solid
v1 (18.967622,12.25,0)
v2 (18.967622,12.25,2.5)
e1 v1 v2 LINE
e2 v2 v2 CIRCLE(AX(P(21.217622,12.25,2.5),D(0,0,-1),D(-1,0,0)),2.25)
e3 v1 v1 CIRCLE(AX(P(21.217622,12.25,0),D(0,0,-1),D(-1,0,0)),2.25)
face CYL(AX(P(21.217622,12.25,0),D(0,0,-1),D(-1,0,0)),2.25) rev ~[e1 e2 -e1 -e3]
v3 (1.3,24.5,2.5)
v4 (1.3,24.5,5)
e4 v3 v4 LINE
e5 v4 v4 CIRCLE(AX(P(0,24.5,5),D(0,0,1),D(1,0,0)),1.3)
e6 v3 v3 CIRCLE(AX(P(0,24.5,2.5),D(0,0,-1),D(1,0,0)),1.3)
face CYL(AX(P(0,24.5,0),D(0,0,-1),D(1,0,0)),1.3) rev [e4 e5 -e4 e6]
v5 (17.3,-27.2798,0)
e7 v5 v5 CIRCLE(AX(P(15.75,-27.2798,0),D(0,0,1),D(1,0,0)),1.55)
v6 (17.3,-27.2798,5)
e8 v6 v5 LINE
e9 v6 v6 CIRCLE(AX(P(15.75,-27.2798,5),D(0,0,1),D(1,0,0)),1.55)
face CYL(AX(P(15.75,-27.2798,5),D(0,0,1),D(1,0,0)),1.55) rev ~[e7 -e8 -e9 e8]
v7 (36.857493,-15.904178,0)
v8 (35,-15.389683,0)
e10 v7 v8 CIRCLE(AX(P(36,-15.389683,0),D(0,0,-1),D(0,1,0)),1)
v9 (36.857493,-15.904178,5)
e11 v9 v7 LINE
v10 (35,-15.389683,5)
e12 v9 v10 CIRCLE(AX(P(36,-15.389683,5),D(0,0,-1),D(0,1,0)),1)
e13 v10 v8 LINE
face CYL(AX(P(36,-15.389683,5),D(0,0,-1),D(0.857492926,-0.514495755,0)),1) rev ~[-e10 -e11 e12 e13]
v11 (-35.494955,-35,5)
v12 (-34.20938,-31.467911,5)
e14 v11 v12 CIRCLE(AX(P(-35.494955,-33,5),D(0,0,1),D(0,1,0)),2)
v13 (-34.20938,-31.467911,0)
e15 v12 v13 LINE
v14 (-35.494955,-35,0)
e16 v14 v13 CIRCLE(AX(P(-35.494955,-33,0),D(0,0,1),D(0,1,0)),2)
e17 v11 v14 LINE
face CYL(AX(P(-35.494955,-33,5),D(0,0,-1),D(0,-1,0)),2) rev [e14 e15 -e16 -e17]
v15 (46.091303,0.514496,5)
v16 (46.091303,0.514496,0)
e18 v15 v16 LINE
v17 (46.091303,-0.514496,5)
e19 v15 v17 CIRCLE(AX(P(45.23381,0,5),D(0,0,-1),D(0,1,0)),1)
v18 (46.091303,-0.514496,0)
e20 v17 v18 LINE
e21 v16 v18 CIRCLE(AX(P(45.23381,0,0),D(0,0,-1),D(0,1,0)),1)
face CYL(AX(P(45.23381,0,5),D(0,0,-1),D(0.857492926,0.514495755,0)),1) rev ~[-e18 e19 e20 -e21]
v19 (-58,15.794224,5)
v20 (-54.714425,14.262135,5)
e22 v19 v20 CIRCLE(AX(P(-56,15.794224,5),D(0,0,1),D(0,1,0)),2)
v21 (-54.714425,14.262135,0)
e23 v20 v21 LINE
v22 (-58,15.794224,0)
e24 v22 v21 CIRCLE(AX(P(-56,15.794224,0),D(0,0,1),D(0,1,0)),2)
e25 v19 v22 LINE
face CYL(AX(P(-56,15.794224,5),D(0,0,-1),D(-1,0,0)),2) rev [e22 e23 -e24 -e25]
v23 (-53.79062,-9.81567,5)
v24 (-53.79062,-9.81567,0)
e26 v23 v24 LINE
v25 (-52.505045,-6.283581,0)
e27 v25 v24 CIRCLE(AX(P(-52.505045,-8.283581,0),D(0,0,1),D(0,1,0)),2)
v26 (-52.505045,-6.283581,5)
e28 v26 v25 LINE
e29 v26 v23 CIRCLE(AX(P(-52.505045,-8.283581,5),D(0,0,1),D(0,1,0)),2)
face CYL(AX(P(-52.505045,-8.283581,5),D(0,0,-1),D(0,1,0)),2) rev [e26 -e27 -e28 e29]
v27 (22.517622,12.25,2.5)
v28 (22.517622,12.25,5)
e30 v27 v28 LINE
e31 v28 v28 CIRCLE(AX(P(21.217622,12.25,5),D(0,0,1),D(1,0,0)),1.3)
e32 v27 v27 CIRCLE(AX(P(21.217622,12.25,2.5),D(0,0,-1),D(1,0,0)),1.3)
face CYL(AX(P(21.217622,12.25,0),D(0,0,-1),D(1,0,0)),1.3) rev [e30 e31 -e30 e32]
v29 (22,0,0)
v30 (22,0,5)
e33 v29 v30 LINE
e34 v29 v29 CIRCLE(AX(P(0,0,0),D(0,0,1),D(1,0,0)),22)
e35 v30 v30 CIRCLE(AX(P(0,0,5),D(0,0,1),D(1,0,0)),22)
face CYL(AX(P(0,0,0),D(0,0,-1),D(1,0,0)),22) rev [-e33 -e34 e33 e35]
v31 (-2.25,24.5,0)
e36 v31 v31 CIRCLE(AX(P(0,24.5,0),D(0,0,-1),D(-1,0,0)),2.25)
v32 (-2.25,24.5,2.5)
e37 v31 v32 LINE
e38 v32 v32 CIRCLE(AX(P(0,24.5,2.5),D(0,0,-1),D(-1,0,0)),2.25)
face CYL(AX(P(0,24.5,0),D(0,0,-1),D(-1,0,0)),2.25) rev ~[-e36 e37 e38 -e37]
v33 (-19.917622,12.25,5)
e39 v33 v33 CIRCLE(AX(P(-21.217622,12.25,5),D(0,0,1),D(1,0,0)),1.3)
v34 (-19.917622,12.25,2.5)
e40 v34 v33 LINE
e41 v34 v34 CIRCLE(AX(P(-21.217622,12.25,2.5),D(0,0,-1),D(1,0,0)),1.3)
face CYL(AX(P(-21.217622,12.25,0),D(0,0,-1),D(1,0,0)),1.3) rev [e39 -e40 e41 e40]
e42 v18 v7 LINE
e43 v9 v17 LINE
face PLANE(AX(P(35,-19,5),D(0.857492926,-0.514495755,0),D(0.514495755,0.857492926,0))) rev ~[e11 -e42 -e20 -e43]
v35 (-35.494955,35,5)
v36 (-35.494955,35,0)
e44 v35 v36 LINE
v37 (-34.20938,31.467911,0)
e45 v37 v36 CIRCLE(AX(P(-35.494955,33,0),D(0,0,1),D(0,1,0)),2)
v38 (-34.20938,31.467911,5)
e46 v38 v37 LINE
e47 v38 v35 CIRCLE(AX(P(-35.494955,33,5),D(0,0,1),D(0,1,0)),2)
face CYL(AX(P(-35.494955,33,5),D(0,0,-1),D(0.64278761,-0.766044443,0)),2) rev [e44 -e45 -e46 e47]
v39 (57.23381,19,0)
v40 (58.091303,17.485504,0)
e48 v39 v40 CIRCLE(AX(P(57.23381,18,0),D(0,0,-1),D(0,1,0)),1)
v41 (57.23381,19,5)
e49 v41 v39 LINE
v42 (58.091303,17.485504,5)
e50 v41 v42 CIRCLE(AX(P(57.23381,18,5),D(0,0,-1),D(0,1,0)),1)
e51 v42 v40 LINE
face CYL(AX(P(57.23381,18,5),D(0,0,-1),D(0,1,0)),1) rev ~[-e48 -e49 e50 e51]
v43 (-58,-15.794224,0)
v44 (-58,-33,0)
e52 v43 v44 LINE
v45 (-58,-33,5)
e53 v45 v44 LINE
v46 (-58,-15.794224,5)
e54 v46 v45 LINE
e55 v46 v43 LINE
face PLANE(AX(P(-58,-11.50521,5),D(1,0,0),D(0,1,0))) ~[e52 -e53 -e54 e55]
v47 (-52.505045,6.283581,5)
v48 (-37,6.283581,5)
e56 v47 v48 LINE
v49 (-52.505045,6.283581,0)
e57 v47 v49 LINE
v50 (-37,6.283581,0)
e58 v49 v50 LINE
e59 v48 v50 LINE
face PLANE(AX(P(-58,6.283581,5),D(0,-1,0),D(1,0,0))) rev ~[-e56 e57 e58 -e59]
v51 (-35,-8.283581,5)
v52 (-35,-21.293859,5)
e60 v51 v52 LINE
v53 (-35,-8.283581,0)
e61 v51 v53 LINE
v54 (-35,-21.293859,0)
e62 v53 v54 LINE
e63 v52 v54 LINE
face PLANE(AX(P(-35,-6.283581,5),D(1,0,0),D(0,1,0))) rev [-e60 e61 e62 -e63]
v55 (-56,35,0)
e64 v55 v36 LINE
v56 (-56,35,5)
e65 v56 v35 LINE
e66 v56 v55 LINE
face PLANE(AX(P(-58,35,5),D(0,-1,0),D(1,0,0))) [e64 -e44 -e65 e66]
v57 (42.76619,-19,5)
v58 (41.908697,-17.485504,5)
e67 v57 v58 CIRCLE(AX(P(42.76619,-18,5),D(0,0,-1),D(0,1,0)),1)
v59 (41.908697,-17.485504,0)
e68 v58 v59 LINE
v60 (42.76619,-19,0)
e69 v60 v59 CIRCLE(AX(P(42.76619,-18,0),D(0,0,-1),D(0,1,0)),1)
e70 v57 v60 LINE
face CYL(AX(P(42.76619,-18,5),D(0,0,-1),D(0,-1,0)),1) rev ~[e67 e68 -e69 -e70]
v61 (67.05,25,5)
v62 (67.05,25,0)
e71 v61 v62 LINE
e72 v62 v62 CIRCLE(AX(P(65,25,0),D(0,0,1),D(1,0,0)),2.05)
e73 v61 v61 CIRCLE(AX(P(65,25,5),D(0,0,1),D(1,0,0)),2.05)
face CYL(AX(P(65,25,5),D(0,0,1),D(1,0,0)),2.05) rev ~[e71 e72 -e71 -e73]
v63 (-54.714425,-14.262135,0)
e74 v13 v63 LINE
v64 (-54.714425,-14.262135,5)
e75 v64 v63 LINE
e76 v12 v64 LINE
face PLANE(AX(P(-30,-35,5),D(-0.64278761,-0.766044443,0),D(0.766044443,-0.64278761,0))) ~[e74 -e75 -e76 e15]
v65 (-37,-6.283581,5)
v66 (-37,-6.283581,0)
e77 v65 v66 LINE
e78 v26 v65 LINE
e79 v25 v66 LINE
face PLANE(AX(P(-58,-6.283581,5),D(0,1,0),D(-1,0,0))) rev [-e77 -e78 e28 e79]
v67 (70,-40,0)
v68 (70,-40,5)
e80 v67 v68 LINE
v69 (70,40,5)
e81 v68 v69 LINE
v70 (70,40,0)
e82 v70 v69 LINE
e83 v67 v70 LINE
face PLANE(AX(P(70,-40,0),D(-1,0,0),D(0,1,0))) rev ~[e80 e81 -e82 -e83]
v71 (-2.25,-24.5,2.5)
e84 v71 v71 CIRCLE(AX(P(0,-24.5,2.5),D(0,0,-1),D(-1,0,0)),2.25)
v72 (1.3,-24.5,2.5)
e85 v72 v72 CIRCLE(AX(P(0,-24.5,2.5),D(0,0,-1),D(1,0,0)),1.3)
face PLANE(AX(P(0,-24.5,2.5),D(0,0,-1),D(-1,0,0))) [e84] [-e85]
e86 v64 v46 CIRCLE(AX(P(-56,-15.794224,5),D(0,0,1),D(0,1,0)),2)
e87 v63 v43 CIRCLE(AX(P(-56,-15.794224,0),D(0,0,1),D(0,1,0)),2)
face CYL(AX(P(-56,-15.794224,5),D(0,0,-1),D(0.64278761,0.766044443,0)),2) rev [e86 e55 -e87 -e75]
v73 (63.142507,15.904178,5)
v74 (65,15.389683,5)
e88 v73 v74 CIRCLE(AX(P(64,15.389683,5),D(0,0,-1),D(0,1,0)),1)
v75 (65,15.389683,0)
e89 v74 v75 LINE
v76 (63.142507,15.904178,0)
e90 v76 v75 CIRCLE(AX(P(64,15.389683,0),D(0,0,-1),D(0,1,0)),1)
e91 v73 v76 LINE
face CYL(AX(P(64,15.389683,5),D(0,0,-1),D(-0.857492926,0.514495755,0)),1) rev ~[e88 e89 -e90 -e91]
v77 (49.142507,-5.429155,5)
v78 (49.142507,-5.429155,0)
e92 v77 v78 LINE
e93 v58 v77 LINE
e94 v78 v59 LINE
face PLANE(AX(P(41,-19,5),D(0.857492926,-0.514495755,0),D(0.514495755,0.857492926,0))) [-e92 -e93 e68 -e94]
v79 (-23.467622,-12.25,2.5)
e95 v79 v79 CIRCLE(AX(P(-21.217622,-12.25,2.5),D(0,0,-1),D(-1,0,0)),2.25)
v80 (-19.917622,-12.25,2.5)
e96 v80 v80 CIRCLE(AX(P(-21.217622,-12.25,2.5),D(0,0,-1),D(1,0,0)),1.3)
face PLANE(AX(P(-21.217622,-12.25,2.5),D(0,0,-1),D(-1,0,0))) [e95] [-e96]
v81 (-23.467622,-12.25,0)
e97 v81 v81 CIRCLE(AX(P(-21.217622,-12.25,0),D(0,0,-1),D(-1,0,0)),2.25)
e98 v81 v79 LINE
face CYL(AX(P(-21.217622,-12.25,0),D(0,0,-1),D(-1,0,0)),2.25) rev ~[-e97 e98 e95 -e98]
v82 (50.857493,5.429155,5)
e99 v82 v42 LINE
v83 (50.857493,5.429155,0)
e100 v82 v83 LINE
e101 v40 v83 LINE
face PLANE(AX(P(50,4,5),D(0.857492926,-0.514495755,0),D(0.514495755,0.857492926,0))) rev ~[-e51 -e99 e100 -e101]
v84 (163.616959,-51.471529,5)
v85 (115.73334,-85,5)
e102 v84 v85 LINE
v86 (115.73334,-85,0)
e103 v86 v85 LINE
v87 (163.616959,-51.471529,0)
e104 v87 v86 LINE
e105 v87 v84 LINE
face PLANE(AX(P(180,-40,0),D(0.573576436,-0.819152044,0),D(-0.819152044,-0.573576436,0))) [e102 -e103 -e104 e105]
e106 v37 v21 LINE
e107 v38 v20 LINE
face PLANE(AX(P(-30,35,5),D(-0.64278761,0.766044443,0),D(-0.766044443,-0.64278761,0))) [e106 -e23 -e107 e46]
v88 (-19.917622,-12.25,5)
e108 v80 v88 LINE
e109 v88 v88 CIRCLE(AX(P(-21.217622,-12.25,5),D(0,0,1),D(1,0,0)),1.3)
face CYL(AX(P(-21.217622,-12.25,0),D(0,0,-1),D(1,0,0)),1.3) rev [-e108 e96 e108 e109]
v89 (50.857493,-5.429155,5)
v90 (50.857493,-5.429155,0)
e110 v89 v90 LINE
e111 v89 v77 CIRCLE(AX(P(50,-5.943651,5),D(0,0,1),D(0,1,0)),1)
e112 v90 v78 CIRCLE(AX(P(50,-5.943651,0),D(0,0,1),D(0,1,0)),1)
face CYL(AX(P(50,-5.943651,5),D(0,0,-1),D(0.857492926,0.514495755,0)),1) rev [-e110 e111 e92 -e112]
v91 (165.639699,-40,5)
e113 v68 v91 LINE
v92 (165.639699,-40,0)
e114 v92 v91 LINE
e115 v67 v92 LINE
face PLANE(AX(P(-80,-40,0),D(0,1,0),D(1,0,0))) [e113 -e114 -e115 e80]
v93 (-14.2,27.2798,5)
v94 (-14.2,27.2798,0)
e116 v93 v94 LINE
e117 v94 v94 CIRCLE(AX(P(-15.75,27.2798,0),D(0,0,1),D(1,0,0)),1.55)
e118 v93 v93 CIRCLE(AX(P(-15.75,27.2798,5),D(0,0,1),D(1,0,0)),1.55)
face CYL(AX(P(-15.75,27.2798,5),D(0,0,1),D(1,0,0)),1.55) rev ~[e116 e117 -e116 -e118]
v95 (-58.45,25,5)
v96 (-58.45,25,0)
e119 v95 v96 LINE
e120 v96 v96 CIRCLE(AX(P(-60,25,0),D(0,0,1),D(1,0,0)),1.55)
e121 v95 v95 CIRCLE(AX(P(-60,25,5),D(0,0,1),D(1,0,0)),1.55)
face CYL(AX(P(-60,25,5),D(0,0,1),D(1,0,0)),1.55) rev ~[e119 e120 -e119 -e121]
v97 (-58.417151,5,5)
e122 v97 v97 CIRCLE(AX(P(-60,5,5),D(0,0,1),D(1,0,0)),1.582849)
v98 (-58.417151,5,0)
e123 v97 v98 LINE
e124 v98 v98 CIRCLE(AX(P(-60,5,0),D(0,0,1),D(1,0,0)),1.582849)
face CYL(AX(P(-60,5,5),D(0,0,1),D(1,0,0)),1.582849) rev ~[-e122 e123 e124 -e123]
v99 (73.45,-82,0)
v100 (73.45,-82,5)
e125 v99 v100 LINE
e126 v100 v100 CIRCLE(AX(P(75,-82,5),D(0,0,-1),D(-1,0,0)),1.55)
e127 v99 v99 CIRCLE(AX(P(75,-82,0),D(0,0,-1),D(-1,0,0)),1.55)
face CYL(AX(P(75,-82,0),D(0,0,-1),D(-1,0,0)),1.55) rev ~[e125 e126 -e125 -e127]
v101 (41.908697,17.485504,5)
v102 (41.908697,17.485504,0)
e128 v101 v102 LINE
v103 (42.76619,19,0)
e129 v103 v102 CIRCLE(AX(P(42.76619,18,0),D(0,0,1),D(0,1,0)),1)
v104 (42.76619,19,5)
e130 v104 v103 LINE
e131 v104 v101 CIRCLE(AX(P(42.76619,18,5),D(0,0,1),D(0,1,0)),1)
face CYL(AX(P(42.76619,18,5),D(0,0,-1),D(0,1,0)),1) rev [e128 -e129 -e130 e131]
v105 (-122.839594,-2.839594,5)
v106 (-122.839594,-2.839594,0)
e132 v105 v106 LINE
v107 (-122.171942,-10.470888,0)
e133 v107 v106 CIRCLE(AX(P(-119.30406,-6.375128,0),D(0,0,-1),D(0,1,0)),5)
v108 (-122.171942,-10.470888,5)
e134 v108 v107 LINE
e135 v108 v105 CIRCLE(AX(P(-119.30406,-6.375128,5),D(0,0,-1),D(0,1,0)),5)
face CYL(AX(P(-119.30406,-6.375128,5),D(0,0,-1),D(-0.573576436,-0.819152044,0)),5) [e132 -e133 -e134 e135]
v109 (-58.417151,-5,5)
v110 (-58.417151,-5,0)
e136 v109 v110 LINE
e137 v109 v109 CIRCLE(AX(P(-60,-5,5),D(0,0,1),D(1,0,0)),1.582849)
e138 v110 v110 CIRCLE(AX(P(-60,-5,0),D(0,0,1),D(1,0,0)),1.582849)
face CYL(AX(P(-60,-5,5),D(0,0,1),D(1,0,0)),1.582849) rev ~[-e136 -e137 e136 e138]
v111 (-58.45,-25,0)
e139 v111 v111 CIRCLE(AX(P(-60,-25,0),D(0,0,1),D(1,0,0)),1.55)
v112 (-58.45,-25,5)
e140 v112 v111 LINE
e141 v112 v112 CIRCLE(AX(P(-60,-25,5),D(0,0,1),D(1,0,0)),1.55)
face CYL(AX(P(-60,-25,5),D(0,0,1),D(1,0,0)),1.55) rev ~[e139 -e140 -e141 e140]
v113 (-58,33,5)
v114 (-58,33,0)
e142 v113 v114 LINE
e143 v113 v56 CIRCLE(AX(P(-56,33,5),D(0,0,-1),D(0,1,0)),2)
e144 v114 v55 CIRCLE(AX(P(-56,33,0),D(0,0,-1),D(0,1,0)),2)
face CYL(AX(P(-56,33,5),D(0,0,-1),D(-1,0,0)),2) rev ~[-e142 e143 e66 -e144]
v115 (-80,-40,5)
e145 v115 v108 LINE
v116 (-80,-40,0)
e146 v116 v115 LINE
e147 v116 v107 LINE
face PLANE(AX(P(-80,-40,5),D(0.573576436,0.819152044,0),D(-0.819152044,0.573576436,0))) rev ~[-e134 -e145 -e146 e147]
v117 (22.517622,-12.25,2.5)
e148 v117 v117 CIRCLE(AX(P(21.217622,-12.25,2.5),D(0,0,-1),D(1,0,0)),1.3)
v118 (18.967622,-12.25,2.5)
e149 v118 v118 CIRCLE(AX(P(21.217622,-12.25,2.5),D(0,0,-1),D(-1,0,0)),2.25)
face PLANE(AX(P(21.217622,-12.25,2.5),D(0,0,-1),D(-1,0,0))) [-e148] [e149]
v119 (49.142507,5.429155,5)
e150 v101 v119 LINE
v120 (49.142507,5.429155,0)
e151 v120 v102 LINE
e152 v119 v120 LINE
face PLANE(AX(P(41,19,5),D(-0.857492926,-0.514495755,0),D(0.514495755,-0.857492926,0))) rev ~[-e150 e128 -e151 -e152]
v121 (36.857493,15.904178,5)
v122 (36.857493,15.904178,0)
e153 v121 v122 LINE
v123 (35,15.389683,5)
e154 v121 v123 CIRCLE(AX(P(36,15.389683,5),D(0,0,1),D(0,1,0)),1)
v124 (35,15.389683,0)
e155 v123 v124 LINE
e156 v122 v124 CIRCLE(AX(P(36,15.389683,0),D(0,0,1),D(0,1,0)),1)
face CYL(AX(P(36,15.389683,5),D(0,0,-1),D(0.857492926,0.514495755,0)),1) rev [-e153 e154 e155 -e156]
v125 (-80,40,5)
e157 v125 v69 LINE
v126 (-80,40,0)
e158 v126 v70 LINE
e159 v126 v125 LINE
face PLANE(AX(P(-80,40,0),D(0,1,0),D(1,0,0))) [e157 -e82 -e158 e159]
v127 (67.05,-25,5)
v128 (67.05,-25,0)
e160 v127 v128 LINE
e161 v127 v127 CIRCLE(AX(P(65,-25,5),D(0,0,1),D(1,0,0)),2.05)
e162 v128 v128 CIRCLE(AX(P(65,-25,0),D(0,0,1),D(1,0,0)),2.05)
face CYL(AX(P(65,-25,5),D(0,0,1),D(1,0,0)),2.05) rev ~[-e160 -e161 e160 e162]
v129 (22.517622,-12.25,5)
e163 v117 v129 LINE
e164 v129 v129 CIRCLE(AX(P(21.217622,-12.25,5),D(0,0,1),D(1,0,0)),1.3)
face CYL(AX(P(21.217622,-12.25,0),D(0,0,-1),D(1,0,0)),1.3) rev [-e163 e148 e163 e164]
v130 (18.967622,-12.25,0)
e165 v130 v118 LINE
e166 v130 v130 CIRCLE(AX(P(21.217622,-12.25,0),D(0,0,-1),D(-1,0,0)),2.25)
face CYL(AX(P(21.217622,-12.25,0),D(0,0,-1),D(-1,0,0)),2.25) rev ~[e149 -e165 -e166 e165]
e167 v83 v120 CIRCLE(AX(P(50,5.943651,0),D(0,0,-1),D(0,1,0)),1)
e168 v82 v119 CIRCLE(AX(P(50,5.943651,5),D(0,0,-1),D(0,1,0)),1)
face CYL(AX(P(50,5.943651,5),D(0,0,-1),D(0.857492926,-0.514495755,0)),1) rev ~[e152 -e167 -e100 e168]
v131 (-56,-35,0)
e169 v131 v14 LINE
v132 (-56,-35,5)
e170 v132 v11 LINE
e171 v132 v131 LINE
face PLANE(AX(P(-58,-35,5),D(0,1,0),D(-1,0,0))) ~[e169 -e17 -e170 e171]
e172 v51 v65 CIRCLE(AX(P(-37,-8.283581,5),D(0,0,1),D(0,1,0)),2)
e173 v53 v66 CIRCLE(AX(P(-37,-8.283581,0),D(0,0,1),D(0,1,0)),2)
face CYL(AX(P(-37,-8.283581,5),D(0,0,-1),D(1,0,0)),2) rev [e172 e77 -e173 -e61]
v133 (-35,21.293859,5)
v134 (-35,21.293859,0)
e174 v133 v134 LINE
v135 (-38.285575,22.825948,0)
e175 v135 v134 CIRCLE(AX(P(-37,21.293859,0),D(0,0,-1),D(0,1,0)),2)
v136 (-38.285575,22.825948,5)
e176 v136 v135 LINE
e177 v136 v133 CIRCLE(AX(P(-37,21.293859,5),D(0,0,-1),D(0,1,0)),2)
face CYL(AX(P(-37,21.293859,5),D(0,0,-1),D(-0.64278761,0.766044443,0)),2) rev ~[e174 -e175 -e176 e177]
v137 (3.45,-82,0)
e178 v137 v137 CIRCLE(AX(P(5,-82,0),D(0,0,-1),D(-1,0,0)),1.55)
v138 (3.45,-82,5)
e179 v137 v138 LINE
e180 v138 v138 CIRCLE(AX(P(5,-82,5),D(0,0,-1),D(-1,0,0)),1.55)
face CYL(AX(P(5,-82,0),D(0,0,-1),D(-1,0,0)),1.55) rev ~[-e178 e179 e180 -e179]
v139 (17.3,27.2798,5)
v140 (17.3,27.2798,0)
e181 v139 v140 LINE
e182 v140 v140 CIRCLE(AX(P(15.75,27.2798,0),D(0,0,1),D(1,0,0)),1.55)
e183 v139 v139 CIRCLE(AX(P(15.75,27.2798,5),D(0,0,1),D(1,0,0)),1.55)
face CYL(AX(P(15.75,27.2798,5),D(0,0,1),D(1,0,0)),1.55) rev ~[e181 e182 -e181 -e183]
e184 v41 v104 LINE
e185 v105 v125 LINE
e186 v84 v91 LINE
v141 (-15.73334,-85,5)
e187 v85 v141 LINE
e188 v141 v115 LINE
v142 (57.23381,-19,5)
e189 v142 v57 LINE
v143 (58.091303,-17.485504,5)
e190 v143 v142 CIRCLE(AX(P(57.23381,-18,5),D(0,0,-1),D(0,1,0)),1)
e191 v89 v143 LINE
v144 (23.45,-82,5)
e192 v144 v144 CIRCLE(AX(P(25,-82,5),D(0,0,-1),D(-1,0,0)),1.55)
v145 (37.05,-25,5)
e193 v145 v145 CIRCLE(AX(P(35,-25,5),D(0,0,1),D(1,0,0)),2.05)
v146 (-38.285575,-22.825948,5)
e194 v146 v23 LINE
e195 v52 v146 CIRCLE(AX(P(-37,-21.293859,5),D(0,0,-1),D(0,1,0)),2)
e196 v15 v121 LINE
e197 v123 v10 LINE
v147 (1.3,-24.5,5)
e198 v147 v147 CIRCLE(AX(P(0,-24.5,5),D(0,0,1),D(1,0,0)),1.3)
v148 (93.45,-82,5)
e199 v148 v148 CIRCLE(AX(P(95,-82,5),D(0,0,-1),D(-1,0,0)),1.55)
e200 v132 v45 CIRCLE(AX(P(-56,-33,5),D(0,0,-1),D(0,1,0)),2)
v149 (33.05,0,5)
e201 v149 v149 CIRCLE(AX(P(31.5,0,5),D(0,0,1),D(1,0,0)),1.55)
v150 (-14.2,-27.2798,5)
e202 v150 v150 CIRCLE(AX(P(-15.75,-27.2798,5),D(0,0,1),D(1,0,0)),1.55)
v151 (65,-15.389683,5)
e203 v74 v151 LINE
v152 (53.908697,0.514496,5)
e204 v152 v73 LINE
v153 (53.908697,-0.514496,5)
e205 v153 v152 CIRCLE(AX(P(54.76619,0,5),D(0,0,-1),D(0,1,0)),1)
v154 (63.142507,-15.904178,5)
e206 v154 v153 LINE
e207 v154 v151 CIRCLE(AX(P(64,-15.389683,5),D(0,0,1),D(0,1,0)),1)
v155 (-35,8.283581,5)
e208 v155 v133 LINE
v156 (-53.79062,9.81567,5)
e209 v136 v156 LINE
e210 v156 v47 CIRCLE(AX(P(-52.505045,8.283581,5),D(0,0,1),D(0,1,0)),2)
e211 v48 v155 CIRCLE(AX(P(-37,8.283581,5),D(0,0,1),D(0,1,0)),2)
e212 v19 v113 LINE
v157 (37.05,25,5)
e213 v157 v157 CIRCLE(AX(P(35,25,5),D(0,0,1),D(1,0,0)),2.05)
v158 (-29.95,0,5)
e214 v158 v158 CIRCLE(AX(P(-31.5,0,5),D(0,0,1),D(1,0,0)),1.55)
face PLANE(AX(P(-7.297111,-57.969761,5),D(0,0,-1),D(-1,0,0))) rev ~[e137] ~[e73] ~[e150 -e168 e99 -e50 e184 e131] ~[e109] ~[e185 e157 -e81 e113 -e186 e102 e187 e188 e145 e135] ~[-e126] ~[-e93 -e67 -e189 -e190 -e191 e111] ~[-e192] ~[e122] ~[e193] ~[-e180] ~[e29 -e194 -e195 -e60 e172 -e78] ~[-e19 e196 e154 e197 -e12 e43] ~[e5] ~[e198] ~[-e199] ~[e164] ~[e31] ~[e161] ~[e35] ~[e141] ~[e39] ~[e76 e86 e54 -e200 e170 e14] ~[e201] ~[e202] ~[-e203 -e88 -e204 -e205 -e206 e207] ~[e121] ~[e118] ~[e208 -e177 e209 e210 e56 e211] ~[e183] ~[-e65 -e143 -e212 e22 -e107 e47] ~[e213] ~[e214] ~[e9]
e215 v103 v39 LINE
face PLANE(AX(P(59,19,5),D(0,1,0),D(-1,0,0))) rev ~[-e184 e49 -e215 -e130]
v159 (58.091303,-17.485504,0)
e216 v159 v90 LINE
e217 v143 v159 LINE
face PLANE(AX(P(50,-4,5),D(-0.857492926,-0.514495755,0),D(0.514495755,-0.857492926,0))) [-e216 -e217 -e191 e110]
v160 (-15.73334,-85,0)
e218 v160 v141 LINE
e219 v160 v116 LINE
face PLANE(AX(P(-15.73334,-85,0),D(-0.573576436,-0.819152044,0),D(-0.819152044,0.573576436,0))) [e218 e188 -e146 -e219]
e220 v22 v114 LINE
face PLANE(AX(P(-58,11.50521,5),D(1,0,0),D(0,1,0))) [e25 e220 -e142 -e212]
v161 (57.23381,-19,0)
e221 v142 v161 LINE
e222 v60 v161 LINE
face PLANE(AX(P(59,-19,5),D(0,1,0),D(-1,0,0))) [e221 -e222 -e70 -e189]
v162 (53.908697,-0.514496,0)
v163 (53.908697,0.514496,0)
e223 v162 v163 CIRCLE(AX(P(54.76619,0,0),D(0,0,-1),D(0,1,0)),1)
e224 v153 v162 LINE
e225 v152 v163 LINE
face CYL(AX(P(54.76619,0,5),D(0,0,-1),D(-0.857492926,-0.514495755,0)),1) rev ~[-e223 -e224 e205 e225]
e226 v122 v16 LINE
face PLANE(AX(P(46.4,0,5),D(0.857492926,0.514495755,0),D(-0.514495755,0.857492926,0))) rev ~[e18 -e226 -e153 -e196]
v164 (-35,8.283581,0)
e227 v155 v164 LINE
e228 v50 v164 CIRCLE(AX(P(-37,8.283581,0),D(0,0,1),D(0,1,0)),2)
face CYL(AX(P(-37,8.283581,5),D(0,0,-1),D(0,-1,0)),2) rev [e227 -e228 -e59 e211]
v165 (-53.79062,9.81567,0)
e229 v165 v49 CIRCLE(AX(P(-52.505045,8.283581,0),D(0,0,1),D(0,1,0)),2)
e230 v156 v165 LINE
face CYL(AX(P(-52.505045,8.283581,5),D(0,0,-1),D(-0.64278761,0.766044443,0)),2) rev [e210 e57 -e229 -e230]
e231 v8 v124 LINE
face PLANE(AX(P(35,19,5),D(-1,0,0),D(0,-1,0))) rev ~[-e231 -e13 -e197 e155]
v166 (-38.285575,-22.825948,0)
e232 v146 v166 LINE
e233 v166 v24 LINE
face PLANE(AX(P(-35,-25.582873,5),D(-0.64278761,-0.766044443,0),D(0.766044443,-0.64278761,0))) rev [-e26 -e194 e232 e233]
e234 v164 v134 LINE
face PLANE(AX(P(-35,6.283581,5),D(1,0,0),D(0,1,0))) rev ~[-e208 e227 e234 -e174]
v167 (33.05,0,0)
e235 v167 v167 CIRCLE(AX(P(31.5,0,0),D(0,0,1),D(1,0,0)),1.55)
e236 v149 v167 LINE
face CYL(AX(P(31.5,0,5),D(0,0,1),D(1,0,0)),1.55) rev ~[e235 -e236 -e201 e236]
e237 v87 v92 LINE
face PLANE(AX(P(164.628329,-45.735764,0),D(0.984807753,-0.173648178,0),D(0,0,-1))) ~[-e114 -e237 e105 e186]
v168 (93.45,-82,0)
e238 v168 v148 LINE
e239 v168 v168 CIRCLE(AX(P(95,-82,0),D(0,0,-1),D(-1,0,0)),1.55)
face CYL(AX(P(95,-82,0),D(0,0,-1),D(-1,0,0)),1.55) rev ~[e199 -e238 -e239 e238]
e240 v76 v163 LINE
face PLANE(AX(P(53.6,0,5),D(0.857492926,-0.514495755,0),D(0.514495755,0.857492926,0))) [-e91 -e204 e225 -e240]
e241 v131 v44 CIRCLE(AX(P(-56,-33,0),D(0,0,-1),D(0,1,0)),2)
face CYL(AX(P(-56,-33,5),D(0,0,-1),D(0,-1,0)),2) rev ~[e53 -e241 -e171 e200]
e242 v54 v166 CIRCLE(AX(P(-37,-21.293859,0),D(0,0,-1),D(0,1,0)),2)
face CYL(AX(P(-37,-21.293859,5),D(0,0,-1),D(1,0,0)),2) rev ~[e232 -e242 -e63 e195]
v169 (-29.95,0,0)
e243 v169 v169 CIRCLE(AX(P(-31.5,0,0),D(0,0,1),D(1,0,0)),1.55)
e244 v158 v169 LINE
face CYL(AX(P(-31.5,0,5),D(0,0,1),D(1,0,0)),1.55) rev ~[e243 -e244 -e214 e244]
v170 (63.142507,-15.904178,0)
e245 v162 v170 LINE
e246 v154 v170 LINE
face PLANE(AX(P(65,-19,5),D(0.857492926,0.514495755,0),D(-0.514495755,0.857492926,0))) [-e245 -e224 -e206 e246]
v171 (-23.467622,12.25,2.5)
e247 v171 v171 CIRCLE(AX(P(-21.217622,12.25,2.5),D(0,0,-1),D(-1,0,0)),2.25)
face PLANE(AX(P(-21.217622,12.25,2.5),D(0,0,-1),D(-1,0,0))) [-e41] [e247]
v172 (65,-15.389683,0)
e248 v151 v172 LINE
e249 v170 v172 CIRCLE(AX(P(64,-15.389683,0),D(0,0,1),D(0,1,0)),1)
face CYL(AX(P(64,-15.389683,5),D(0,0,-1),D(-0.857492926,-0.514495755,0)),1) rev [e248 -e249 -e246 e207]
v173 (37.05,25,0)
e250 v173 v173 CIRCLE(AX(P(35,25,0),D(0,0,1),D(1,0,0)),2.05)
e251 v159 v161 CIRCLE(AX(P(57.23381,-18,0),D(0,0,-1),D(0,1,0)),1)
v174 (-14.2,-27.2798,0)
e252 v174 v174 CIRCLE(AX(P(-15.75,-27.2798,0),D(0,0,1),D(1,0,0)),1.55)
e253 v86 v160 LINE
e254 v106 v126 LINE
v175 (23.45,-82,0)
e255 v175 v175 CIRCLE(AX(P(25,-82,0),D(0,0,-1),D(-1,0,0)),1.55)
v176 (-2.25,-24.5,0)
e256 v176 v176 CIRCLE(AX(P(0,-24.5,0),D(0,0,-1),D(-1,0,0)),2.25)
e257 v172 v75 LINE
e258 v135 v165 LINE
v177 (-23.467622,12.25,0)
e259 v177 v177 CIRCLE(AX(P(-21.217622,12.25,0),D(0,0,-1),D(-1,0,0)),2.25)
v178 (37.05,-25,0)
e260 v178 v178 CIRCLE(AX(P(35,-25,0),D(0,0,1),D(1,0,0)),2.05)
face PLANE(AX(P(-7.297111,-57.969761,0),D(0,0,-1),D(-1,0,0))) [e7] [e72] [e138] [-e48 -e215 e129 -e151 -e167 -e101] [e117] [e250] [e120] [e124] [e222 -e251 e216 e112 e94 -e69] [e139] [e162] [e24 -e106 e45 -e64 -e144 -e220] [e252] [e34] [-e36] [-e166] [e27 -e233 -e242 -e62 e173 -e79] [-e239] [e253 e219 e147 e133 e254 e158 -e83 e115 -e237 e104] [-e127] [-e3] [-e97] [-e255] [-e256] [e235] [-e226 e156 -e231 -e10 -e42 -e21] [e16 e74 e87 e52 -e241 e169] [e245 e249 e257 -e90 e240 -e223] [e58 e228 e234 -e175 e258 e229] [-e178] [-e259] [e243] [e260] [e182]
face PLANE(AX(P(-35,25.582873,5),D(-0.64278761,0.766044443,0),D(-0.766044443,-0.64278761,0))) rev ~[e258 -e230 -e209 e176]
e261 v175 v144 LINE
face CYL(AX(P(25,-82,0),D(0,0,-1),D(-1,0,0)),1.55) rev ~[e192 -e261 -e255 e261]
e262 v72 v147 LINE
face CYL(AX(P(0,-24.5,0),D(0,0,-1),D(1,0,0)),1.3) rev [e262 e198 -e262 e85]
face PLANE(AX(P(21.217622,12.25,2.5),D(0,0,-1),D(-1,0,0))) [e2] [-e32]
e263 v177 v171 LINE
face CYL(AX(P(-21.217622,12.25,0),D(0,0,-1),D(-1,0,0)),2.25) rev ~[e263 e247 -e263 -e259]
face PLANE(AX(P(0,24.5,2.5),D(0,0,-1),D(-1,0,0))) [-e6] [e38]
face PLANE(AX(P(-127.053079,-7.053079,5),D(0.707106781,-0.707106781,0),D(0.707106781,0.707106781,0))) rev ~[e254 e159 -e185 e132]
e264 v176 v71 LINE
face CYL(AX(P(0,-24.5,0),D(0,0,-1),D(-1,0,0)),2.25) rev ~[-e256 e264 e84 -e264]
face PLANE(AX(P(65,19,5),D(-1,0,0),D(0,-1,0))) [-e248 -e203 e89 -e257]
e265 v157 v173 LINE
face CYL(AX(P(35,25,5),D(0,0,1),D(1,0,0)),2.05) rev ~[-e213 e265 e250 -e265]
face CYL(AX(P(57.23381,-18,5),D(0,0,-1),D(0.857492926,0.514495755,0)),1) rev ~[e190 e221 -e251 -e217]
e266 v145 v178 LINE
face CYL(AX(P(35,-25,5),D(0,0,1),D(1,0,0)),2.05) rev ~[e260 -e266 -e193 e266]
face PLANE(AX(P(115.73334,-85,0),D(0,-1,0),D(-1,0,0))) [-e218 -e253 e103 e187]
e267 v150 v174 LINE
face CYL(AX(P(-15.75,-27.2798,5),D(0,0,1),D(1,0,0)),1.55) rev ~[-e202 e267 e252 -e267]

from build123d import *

# Parameters (mm, degrees)
SKETCH_1_W             = 150
SKETCH_1_H             = 80
SKETCH_1_R             = 1.3
SKETCH_1_R_2           = 22
EXTRUDE_1_DEPTH        = 5
SKETCH_3_R             = 1.55
SKETCH_3_R_2           = 1.582849294
CUT_EXTRUDE_3_DEPTH    = 12.5
CUT_EXTRUDE_5_DEPTH    = 8
FILLET_3_R             = 2
FILLET_3_OF_MIRROR_2_R = 2
EXTRUDE_4_DEPTH        = 5
FILLET_5_R             = 5
SKETCH_11_R            = 1.55
CUT_EXTRUDE_7_DEPTH    = 25
SKETCH_12_R            = 2.05
CUT_EXTRUDE_8_DEPTH    = 10
CUT_EXTRUDE_9_DEPTH    = 10
FILLET_6_R             = 1
SKETCH_14_R            = 2.25
CUT_EXTRUDE_10_DEPTH   = 2.5
EXTRUDE_5_DEPTH        = 5
CHAMFER_1_SIZE         = 20
CHAMFER_1_SIZE2        = 14.360300861
SKETCH_16_R            = 1.55
CUT_EXTRUDE_11_DEPTH   = 10.5


with BuildPart() as part:
    # 草图1 → 凸台-拉伸1 (new body)
    with BuildSketch(Plane.XY):
        with Locations((-5, 0)):
            Rectangle(SKETCH_1_W, SKETCH_1_H)
        with Locations((0, -24.5)):
            Circle(SKETCH_1_R, mode=Mode.SUBTRACT)
        with Locations((-21.217622393, -12.25)):
            Circle(SKETCH_1_R, mode=Mode.SUBTRACT)
        with Locations((-21.217622393, 12.25)):
            Circle(SKETCH_1_R, mode=Mode.SUBTRACT)
        Circle(SKETCH_1_R_2, mode=Mode.SUBTRACT)
        with Locations((0, 24.5)):
            Circle(SKETCH_1_R, mode=Mode.SUBTRACT)
        with Locations((21.217622393, 12.25)):
            Circle(SKETCH_1_R, mode=Mode.SUBTRACT)
        with Locations((21.217622393, -12.25)):
            Circle(SKETCH_1_R, mode=Mode.SUBTRACT)
    extrude(amount=EXTRUDE_1_DEPTH)

    # 草图3 → 切除-拉伸3 (cut)
    with BuildSketch(Plane.XY.offset(5)):
        with Locations((-60, -25)):
            Circle(SKETCH_3_R)
        with Locations((-60, -5)):
            Circle(SKETCH_3_R_2)
        with Locations((-60, 25)):
            Circle(SKETCH_3_R)
        with Locations((-60, 5)):
            Circle(SKETCH_3_R_2)
    extrude(amount=-CUT_EXTRUDE_3_DEPTH, mode=Mode.SUBTRACT)

    # 草图4 → 切除-拉伸5 (cut)
    with BuildSketch(Plane.XY.offset(5)):
        Polygon((-58, 35), (-30, 35), (-58, 11.505210327), align=None)
        Polygon((-35, 25.582872687), (-58, 6.28358117), (-35, 6.28358117), align=None)
    cut_extrude_5 = extrude(amount=-CUT_EXTRUDE_5_DEPTH, mode=Mode.SUBTRACT)

    # 圆角3
    fillet_3_edges = [part.edges().sort_by_distance(p)[0] for p in [
        (-35, 6.28358117, 2.5),
        (-58, 6.28358117, 2.5),
        (-35, 25.582872687, 2.5),
        (-30, 35, 2.5),
        (-58, 11.505210327, 2.5),
        (-58, 35, 2.5),
    ]]
    fillet(fillet_3_edges, radius=FILLET_3_R)

    # 镜向2: 切除-拉伸5 across plane
    add(cut_extrude_5.mirror(Plane.ZX), mode=Mode.SUBTRACT)

    # 圆角3 of 镜向2
    fillet_3_of_mirror_2_edges = [part.edges().sort_by_distance(p)[0] for p in [
        (-35, -6.28358117, 2.5),
        (-58, -6.28358117, 2.5),
        (-35, -25.582872687, 2.5),
        (-30, -35, 2.5),
        (-58, -11.505210327, 2.5),
        (-58, -35, 2.5),
    ]]
    fillet(fillet_3_of_mirror_2_edges, radius=FILLET_3_OF_MIRROR_2_R)

    # 草图10 → 凸台-拉伸4 (add)
    with BuildSketch(Plane.XY.offset(5)):
        Polygon((-80, -40), (-127.053079228, -7.053079228), (-80, 40), align=None)
    extrude(amount=-EXTRUDE_4_DEPTH)

    # 圆角5
    fillet_5_edges = [part.edges().sort_by_distance(p)[0] for p in [
        (-127.053079228, -7.053079228, 2.5),
    ]]
    fillet(fillet_5_edges, radius=FILLET_5_R)

    # 草图11 → 切除-拉伸7 (cut)
    with BuildSketch(Plane.XY.offset(5)):
        with Locations((-15.75, 27.279800219)):
            Circle(SKETCH_11_R)
        with Locations((15.75, 27.279800219)):
            Circle(SKETCH_11_R)
        with Locations((31.5, 0)):
            Circle(SKETCH_11_R)
        with Locations((15.75, -27.279800219)):
            Circle(SKETCH_11_R)
        with Locations((-15.75, -27.279800219)):
            Circle(SKETCH_11_R)
        with Locations((-31.5, 0)):
            Circle(SKETCH_11_R)
    extrude(amount=-CUT_EXTRUDE_7_DEPTH, mode=Mode.SUBTRACT)

    # 草图12 → 切除-拉伸8 (cut)
    with BuildSketch(Plane.XY.offset(5)):
        with Locations((35, 25)):
            Circle(SKETCH_12_R)
        with Locations((65, 25)):
            Circle(SKETCH_12_R)
        with Locations((65, -25)):
            Circle(SKETCH_12_R)
        with Locations((35, -25)):
            Circle(SKETCH_12_R)
    extrude(amount=-CUT_EXTRUDE_8_DEPTH, mode=Mode.SUBTRACT)

    # 草图13 → 切除-拉伸9 (cut)
    with BuildSketch(Plane.XY.offset(5)):
        Polygon((35, 19), (35, -19), (46.4, 0), align=None)
        Polygon((65, -19), (53.6, 0), (65, 19), align=None)
        Polygon((41, 19), (50, 4), (59, 19), align=None)
        Polygon((50, -4), (59, -19), (41, -19), align=None)
    extrude(amount=-CUT_EXTRUDE_9_DEPTH, mode=Mode.SUBTRACT)

    # 圆角6
    fillet_6_edges = [part.edges().sort_by_distance(p)[0] for p in [
        (41, 19, 2.5),
        (59, 19, 2.5),
        (50, 4, 2.5),
        (65, 19, 2.5),
        (65, -19, 2.5),
        (53.6, 0, 2.5),
        (41, -19, 2.5),
        (50, -4, 2.5),
        (59, -19, 2.5),
        (35, 19, 2.5),
        (46.4, 0, 2.5),
        (35, -19, 2.5),
    ]]
    fillet(fillet_6_edges, radius=FILLET_6_R)

    # 草图14 → 切除-拉伸10 (cut)
    with BuildSketch(Plane(origin=(0, 0, 0), x_dir=(-1, 0, 0), z_dir=(0, 0, -1))):
        with Locations((0, 24.5)):
            Circle(SKETCH_14_R)
        with Locations((21.217622393, 12.25)):
            Circle(SKETCH_14_R)
        with Locations((21.217622393, -12.25)):
            Circle(SKETCH_14_R)
        with Locations((0, -24.5)):
            Circle(SKETCH_14_R)
        with Locations((-21.217622393, -12.25)):
            Circle(SKETCH_14_R)
        with Locations((-21.217622393, 12.25)):
            Circle(SKETCH_14_R)
    extrude(amount=-CUT_EXTRUDE_10_DEPTH, mode=Mode.SUBTRACT)

    # 草图15 → 凸台-拉伸5 (add)
    with BuildSketch(Plane(origin=(0, 0, 0), x_dir=(-1, 0, 0), z_dir=(0, 0, -1))):
        Polygon((15.733339697, -85), (80, -40), (-50, -40), (-50, -85), align=None)
        Polygon((-50, -85), (-50, -40), (-180, -40), (-115.733339697, -85), align=None)
    extrude(amount=-EXTRUDE_5_DEPTH)

    # 倒角1
    chamfer_1_edges = [part.edges().sort_by_distance(p)[0] for p in [
        (180, -40, 2.5),
    ]]
    chamfer_1_side = [part.faces().sort_by_distance(p)[0] for p in [
        (147.866669848, -62.5, 2.5),
    ]]
    chamfer(chamfer_1_edges, length=CHAMFER_1_SIZE, length2=CHAMFER_1_SIZE2, reference=chamfer_1_side[0])

    # 草图16 → 切除-拉伸11 (cut)
    with BuildSketch(Plane(origin=(0, 0, 0), x_dir=(-1, 0, 0), z_dir=(0, 0, -1))):
        with Locations((-95, -82)):
            Circle(SKETCH_16_R)
        with Locations((-75, -82)):
            Circle(SKETCH_16_R)
        with Locations((-25, -82)):
            Circle(SKETCH_16_R)
        with Locations((-5, -82)):
            Circle(SKETCH_16_R)
    extrude(amount=-CUT_EXTRUDE_11_DEPTH, mode=Mode.SUBTRACT)


solid = part.part
